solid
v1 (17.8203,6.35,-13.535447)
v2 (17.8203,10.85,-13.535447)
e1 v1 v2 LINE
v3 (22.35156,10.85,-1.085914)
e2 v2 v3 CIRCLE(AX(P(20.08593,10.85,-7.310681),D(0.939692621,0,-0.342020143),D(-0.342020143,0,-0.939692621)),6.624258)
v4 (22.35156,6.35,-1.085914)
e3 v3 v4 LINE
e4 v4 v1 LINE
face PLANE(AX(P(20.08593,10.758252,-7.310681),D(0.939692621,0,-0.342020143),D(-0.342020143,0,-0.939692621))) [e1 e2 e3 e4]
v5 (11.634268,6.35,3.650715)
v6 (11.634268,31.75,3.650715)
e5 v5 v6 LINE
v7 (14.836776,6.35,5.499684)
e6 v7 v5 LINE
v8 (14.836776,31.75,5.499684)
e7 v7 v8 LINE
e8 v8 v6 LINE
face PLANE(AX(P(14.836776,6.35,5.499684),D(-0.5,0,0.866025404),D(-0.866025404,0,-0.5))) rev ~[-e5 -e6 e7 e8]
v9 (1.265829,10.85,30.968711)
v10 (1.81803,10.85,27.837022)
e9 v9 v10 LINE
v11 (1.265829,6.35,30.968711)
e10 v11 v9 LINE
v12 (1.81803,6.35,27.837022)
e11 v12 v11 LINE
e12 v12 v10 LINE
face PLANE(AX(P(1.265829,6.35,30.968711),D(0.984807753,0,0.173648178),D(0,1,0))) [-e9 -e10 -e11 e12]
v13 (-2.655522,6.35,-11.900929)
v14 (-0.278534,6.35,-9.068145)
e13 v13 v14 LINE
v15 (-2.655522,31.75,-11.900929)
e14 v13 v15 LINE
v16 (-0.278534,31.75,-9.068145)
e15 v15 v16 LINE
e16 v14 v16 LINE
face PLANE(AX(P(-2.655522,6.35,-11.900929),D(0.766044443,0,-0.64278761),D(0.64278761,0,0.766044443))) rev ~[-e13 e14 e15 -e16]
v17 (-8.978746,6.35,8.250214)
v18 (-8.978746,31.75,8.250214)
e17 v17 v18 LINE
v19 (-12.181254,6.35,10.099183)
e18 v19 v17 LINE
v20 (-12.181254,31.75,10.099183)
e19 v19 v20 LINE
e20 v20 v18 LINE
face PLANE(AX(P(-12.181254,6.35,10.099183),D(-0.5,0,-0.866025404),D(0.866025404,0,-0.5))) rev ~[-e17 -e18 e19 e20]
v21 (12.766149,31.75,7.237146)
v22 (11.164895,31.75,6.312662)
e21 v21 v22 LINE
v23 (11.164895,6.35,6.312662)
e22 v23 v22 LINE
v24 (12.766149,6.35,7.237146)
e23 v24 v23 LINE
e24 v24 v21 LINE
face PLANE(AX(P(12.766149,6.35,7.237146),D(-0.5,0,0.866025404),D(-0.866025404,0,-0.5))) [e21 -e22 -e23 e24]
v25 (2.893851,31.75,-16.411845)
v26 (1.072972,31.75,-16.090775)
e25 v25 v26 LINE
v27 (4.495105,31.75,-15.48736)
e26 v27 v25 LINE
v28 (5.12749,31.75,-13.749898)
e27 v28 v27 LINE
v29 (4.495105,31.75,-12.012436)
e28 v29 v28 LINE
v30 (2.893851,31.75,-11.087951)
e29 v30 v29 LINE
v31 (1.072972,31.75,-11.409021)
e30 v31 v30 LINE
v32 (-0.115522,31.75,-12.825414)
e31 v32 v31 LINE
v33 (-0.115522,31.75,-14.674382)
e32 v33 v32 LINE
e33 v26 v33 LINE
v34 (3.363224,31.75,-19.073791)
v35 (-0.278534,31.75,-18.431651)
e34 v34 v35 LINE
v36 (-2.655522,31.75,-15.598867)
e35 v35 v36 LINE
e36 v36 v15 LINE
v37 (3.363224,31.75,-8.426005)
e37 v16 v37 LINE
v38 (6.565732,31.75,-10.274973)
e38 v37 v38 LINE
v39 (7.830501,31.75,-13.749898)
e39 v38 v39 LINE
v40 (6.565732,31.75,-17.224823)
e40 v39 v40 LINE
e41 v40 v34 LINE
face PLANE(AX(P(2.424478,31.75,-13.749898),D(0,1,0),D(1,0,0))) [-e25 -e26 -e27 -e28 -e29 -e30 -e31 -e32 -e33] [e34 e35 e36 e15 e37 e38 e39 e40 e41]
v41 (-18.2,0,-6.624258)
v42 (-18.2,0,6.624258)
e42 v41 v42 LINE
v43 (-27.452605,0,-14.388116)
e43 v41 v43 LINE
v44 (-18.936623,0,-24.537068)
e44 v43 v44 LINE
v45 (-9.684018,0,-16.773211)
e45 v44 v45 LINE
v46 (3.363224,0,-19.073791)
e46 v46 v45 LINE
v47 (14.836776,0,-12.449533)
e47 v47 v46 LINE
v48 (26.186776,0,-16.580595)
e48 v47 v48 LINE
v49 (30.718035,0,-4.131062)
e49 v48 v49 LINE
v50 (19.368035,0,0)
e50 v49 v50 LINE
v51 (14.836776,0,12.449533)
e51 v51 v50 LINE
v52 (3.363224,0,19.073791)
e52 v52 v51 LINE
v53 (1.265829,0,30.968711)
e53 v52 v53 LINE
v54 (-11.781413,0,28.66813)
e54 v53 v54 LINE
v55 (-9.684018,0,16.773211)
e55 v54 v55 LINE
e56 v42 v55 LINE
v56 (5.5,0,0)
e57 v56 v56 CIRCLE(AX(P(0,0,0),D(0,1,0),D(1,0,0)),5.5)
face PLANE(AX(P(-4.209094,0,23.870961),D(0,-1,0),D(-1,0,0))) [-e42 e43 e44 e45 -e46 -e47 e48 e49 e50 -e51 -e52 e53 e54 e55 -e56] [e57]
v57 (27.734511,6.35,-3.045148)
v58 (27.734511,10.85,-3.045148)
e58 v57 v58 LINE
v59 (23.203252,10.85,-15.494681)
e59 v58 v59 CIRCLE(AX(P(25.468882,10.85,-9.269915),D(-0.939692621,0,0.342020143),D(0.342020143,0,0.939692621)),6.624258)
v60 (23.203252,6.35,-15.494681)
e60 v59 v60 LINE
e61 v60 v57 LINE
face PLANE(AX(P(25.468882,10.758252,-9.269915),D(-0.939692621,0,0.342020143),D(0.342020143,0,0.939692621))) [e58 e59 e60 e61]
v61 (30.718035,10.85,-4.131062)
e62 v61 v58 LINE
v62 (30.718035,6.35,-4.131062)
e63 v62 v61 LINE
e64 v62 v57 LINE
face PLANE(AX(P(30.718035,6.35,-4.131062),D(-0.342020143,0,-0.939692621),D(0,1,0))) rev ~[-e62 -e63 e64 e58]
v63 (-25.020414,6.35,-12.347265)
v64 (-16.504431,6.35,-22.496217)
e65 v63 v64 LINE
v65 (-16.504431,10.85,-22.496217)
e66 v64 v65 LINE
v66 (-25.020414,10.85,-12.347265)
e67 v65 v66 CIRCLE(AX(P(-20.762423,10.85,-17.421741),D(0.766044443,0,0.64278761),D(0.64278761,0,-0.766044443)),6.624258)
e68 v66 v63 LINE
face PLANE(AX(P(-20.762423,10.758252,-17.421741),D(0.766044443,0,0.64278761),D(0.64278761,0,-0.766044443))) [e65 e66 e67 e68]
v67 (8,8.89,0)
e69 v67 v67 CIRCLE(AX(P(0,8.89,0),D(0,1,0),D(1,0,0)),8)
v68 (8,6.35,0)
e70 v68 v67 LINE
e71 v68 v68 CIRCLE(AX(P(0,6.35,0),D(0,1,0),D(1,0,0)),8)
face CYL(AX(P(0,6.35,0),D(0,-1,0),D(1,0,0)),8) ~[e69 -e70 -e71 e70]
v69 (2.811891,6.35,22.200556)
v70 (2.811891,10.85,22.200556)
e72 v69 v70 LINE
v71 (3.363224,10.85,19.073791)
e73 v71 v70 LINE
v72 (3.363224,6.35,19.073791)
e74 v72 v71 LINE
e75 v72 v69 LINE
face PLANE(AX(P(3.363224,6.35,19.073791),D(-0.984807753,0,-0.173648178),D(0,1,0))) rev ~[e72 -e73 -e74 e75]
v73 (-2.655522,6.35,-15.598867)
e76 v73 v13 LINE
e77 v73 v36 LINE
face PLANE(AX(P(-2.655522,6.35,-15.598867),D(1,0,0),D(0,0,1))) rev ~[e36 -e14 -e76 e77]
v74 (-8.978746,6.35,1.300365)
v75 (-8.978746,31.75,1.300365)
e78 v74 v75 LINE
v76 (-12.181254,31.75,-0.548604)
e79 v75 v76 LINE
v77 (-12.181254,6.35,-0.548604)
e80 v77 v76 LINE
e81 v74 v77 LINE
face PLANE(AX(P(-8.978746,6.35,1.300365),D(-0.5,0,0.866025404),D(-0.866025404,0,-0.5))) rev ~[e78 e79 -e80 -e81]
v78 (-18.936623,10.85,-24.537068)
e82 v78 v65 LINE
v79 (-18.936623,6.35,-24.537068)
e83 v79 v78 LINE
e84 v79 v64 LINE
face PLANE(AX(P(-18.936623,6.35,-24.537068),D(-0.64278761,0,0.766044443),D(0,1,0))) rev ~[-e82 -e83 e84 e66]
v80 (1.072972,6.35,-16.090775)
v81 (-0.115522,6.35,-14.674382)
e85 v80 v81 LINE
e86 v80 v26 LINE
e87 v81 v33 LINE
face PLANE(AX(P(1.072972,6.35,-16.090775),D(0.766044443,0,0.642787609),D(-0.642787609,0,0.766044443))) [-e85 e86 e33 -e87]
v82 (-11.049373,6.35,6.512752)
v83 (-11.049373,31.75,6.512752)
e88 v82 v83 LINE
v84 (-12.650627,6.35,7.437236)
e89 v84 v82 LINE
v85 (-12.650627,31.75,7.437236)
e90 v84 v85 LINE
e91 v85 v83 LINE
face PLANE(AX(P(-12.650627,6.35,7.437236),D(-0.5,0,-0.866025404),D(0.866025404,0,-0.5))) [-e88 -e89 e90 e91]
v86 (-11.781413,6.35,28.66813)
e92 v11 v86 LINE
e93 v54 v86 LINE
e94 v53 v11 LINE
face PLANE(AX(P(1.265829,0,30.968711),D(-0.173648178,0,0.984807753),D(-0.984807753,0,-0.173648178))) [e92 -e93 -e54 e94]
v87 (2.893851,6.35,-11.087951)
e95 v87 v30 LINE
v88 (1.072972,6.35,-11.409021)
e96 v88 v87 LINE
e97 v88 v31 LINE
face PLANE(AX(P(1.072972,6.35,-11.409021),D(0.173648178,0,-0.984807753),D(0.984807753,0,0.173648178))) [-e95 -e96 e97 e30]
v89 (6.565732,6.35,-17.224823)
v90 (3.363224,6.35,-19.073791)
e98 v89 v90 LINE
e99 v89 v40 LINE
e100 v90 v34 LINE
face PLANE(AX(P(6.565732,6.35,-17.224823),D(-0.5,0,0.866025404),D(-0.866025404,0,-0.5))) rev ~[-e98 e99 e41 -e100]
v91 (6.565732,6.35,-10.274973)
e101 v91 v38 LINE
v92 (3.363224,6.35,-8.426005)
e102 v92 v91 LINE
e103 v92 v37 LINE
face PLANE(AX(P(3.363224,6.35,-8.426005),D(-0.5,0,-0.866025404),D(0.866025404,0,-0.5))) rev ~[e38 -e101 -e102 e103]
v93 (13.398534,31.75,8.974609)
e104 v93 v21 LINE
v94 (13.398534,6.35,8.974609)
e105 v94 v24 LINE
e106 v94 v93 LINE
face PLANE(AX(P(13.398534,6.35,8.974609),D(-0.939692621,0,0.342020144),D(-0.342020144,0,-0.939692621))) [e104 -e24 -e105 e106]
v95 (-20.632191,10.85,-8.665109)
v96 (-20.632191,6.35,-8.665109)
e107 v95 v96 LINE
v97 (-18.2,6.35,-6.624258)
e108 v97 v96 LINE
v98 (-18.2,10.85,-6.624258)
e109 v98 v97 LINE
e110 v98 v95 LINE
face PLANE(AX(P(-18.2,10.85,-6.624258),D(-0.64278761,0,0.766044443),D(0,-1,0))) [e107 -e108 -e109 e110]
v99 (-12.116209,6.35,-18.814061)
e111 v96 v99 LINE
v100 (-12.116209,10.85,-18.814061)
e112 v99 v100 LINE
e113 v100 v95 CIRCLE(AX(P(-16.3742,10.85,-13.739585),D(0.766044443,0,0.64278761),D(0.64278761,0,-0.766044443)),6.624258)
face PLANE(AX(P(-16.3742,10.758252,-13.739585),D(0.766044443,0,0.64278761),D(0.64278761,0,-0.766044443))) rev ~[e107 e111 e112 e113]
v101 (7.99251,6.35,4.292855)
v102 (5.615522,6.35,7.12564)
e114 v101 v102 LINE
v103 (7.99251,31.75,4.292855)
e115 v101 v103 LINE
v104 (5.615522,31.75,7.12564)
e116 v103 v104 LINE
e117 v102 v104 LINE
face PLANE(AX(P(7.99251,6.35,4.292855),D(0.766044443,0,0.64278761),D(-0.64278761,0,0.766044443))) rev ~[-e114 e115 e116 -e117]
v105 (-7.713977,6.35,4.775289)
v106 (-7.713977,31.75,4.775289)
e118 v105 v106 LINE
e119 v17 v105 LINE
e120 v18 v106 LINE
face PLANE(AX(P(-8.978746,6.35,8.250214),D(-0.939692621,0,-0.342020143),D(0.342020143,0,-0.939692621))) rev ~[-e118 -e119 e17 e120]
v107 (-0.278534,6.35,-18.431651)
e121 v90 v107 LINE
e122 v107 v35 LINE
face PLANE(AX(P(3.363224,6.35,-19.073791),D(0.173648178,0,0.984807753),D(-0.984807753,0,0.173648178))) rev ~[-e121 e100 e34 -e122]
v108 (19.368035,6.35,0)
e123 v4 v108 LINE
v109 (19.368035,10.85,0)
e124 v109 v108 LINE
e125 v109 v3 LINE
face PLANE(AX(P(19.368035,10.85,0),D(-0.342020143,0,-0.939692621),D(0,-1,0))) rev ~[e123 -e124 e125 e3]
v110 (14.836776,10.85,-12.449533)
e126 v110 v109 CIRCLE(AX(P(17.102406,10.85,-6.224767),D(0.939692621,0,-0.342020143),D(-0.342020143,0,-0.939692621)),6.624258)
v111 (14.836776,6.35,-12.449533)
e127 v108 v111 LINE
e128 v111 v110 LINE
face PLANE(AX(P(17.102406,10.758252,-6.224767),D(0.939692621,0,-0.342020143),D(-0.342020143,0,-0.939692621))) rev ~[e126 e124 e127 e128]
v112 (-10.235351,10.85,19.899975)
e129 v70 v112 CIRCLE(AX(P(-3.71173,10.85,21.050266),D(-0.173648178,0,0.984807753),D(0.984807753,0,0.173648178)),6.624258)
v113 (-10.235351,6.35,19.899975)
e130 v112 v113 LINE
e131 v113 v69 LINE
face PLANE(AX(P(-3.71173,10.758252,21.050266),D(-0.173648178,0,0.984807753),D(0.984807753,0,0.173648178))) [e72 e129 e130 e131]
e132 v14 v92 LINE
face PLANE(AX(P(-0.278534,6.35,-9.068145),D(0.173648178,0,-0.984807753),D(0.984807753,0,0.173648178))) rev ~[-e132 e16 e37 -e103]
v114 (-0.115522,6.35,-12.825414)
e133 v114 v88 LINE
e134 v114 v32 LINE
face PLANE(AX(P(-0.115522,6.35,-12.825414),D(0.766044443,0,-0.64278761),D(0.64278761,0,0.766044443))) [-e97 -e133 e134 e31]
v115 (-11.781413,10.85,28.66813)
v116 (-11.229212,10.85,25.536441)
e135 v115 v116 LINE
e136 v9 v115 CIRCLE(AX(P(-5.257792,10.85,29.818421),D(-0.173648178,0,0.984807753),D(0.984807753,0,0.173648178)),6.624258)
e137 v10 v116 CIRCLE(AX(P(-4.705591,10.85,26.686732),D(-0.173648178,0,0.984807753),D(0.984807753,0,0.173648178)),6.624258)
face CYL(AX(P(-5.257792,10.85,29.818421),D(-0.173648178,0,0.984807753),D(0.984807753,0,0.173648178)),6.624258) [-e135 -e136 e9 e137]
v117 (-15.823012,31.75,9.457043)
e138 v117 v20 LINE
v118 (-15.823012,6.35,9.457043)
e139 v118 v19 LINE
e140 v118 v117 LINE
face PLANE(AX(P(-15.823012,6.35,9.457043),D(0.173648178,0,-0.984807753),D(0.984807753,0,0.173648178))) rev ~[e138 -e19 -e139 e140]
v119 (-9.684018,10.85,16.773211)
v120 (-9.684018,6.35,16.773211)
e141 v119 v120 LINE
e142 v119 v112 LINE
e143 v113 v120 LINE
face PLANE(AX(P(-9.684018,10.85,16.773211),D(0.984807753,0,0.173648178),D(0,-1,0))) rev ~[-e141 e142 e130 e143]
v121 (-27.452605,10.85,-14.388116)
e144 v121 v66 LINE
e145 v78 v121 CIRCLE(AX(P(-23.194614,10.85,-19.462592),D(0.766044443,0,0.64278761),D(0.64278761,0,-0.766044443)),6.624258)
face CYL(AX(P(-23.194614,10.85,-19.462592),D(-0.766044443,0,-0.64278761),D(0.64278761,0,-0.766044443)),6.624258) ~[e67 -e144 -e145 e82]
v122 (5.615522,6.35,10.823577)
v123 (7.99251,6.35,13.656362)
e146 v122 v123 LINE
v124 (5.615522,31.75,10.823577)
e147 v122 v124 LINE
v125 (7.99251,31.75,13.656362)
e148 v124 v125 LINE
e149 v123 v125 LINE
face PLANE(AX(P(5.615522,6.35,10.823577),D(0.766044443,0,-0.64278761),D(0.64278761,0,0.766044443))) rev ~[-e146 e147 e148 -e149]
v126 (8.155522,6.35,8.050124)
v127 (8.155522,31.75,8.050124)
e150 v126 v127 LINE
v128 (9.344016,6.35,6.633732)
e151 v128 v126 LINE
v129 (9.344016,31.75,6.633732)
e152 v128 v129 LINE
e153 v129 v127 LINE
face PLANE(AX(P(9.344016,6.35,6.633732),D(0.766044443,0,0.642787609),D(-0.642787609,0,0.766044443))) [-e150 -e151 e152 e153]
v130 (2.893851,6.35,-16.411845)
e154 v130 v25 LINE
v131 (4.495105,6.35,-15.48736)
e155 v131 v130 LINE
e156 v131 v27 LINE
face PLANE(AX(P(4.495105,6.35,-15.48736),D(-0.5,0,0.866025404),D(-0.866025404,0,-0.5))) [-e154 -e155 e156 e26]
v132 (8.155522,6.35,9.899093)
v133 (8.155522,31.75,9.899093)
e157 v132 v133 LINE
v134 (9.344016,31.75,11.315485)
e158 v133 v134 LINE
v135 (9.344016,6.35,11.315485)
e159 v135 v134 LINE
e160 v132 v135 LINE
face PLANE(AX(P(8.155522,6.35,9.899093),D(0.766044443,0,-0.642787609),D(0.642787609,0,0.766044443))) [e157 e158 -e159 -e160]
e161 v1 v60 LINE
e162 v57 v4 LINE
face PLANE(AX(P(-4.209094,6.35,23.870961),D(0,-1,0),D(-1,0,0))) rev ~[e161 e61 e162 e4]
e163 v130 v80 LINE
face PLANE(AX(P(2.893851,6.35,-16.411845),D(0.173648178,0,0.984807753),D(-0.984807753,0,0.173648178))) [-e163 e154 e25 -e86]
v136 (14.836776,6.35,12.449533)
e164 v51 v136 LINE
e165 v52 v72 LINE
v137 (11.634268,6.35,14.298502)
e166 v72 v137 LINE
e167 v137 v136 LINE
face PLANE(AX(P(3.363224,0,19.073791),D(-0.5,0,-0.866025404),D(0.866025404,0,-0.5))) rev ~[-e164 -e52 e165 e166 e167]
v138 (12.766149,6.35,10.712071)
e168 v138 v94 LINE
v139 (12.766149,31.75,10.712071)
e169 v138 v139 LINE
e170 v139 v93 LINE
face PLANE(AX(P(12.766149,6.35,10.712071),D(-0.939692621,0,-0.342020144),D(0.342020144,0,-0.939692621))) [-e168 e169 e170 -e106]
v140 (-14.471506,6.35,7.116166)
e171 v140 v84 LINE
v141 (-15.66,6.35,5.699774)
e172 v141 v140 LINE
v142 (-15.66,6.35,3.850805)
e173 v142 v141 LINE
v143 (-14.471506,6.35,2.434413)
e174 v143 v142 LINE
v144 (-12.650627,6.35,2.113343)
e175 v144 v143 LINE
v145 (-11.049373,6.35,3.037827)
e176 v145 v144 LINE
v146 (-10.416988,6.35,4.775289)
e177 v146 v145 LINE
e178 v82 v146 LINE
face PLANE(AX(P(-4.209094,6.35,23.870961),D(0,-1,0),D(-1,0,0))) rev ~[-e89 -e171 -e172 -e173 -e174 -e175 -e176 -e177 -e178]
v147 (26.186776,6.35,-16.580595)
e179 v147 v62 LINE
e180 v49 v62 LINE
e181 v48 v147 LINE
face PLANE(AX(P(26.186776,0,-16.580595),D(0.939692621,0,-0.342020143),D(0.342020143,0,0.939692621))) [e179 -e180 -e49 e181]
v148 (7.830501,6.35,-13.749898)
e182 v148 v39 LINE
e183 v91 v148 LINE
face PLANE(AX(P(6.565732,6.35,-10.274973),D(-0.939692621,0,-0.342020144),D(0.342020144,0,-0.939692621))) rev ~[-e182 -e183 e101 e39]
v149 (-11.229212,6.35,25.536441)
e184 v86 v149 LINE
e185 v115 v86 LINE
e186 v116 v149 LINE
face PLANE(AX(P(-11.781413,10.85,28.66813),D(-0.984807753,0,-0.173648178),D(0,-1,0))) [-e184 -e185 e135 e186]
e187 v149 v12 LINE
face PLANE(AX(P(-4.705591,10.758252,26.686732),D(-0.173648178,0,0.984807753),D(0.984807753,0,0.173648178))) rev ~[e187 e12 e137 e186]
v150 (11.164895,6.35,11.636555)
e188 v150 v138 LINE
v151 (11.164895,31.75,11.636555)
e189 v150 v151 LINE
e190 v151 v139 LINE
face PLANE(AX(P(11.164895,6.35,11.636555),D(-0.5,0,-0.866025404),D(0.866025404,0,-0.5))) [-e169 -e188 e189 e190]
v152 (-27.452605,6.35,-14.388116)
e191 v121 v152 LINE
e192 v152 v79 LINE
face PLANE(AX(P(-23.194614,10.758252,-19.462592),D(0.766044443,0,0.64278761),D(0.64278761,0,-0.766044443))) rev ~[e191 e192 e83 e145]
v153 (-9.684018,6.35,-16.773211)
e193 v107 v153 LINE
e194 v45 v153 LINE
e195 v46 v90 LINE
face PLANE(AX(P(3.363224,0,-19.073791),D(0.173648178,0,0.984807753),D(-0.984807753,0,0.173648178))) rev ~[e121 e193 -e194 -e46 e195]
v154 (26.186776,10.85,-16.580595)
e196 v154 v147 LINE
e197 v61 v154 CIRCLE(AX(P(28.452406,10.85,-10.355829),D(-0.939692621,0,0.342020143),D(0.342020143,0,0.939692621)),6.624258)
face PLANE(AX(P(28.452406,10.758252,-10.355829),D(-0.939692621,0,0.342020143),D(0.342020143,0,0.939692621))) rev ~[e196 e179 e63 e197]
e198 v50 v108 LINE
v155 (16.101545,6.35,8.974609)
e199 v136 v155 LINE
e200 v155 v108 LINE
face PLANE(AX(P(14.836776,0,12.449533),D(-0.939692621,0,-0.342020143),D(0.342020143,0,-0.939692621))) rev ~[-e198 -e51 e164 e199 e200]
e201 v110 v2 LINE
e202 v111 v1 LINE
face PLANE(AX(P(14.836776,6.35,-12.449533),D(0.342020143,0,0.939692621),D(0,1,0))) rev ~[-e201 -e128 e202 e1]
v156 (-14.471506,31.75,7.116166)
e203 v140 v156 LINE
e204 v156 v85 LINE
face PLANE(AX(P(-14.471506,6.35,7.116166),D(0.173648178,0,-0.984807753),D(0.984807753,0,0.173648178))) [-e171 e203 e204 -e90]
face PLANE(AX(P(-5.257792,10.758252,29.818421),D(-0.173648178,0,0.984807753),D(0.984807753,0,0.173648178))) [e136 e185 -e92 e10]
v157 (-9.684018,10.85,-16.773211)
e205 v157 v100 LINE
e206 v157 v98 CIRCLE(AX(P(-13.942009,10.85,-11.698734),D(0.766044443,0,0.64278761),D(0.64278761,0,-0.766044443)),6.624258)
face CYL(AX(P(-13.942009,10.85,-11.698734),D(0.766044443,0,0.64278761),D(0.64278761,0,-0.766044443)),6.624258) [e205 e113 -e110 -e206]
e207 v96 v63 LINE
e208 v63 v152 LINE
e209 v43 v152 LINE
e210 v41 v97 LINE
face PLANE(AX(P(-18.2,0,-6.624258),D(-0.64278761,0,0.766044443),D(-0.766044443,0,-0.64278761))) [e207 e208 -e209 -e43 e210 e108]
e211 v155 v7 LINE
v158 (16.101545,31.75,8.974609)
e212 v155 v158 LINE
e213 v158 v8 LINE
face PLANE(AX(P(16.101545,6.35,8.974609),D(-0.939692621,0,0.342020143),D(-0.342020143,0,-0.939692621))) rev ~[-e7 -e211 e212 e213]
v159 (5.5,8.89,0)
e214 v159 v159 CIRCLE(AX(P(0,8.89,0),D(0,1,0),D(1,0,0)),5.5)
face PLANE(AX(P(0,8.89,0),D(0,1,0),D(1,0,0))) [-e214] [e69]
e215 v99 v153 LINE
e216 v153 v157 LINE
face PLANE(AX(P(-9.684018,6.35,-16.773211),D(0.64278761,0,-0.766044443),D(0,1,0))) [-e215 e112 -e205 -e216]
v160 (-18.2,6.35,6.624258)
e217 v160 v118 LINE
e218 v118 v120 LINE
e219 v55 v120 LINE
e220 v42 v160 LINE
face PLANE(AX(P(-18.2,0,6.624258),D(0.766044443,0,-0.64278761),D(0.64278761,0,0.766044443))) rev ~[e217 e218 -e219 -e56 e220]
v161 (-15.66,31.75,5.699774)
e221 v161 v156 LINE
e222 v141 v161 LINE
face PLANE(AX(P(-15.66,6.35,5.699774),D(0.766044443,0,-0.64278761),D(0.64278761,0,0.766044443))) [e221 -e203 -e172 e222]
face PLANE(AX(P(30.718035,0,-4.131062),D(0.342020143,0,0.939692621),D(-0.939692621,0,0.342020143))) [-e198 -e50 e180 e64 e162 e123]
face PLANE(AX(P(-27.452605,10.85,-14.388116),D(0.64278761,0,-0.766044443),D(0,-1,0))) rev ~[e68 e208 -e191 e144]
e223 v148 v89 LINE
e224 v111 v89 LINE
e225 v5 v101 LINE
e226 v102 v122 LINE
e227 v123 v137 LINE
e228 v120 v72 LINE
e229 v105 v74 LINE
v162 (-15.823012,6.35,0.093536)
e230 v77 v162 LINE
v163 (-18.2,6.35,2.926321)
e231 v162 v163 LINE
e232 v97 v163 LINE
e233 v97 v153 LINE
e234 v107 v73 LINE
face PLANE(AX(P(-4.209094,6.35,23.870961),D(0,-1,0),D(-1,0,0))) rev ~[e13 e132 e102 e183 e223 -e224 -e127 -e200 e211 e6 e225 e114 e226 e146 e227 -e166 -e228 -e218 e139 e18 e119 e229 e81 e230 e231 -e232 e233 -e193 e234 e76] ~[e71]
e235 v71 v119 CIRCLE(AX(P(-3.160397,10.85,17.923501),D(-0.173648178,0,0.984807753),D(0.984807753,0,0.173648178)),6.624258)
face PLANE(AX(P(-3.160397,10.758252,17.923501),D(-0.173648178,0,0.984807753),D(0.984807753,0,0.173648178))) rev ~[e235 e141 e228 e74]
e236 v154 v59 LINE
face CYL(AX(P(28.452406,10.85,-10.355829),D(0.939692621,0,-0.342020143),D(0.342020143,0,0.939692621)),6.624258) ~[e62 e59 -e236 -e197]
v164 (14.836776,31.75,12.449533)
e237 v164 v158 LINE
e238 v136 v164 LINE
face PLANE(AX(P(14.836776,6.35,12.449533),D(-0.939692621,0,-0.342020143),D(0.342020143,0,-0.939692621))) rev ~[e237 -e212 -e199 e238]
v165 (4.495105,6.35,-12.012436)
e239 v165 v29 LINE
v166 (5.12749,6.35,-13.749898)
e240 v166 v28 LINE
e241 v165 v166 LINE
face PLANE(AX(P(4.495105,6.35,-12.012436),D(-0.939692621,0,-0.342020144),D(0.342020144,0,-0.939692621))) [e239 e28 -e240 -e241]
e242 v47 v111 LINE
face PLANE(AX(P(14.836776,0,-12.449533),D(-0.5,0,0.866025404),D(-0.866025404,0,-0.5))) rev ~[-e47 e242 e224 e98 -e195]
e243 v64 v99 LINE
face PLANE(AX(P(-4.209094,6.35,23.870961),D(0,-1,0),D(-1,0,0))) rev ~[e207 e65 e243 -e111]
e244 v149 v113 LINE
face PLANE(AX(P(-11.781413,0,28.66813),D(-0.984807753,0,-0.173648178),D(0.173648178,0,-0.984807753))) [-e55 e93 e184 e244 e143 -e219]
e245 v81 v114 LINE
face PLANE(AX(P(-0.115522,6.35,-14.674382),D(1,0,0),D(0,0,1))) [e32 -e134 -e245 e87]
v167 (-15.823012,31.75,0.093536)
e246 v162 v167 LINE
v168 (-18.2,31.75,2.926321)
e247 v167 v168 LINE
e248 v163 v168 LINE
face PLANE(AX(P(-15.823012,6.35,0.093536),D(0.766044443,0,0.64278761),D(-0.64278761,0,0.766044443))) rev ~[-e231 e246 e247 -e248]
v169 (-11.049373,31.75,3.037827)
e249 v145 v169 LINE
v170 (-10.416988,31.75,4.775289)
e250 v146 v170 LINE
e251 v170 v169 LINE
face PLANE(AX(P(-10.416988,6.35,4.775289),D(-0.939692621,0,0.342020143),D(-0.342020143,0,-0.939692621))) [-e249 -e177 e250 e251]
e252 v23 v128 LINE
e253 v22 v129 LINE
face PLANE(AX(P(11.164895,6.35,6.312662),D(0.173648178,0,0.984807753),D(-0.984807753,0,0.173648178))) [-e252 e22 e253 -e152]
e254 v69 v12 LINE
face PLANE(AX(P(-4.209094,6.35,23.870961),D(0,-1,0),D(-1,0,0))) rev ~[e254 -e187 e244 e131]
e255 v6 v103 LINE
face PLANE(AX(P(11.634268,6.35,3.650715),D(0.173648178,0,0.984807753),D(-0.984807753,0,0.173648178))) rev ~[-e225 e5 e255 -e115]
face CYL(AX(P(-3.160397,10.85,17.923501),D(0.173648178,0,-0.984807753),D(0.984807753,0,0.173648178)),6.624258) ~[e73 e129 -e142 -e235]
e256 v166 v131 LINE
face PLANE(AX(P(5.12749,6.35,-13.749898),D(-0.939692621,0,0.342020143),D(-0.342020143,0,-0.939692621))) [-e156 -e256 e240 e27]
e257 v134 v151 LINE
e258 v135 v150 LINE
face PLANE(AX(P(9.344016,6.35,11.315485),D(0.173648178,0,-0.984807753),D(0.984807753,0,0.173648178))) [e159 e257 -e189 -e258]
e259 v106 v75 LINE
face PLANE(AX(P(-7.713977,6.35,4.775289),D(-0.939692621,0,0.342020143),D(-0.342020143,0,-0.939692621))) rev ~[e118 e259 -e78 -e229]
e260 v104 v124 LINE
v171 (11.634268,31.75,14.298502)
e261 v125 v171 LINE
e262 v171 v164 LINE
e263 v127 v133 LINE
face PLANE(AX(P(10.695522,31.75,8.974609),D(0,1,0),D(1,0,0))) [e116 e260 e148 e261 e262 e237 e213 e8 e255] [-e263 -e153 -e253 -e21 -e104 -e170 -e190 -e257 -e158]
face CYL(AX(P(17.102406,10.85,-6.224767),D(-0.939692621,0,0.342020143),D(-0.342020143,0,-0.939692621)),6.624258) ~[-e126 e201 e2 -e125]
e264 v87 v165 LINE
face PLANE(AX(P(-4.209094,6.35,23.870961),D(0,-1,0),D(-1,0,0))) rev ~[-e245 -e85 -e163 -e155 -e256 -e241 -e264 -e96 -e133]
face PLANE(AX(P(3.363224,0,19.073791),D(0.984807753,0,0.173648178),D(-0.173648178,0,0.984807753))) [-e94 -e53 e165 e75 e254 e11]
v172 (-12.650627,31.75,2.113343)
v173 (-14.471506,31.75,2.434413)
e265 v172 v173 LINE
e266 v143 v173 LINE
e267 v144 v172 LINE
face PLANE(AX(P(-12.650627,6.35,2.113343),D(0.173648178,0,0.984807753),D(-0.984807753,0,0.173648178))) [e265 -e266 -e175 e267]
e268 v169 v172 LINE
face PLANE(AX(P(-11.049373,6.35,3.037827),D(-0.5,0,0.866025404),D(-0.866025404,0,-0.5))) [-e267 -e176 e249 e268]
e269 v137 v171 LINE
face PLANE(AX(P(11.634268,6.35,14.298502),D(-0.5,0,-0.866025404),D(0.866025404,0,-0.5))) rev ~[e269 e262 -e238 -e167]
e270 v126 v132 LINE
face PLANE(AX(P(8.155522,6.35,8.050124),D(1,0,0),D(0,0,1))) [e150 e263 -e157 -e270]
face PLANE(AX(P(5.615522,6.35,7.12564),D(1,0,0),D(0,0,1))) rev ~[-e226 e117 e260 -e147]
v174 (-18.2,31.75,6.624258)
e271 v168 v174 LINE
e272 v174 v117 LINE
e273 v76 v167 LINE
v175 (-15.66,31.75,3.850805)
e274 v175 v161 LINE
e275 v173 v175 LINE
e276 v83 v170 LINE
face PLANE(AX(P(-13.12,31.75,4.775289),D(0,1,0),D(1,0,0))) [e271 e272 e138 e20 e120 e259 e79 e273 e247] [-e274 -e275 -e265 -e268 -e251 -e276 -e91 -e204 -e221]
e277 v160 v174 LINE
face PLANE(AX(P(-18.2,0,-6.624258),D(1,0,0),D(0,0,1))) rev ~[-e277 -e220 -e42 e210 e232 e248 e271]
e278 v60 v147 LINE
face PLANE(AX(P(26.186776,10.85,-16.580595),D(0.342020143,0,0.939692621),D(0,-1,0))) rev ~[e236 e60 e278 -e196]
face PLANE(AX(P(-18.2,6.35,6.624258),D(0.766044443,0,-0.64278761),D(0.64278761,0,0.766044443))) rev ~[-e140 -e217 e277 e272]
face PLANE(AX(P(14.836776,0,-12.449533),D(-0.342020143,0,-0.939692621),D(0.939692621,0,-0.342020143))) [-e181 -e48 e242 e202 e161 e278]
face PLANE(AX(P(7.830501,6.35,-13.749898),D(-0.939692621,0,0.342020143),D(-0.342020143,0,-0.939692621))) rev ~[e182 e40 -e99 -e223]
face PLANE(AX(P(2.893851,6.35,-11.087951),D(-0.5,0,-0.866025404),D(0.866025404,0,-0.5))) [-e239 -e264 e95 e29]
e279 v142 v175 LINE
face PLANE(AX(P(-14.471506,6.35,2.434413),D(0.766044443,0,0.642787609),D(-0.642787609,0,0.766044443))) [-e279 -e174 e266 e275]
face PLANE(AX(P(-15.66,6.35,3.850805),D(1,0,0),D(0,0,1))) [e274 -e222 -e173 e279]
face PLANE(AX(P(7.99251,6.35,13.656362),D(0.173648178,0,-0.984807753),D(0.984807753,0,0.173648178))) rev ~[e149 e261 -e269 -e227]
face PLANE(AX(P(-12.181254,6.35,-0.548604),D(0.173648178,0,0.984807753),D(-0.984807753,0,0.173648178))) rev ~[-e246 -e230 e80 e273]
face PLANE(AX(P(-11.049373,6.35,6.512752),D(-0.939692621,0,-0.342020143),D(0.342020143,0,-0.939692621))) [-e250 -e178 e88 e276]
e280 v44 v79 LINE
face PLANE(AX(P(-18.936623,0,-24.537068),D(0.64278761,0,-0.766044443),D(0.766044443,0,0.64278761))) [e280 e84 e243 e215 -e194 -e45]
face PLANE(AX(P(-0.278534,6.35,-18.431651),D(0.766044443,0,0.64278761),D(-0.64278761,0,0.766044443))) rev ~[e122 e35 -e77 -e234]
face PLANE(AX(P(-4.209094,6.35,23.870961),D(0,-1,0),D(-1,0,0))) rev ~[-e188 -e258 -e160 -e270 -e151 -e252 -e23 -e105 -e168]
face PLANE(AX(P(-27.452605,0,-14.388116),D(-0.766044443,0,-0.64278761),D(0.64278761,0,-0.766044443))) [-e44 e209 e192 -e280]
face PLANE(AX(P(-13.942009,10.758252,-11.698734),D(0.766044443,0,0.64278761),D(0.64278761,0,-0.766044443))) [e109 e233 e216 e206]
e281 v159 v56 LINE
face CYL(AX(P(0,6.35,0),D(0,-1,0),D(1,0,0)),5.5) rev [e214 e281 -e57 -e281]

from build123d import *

# Parameters (mm, degrees)
SKETCH1_R            = 5.5
BOSS_EXTRUDE1_DEPTH  = 6.35
BOSS_EXTRUDE2_DEPTH  = 3.18
BOSS_EXTRUDE4_DEPTH  = 3.175
BOSS_EXTRUDE5_DEPTH  = 3.175
BOSS_EXTRUDE6_DEPTH  = 3.175
BOSS_EXTRUDE7_DEPTH  = 3.175
BOSS_EXTRUDE8_DEPTH  = 3.175
BOSS_EXTRUDE9_DEPTH  = 25.4
SKETCH15_R           = 8
SKETCH15_R_2         = 5.5
BOSS_EXTRUDE10_DEPTH = 2.54


with BuildPart() as part:
    # Sketch1 → Boss-Extrude1 (new body)
    with BuildSketch(Plane(origin=(0, 0, 0), x_dir=(1, 0, 0), z_dir=(0, 1, 0))):
        Polygon((1.265828837, -30.968710893), (-11.781412955, -28.668130141), (-9.68401773, -16.773210729), (3.363224062, -19.073791481), align=None)
        Polygon((-9.68401773, -16.773210729), (3.363224062, -19.073791481), (14.836775938, -12.449533217), (19.368035459, 0), (14.836775938, 12.449533217), (3.363224062, 19.073791481), (-9.68401773, 16.773210729), (-18.2, 6.624258264), (-18.2, -6.624258264), align=None)
        Circle(SKETCH1_R, mode=Mode.SUBTRACT)
        Polygon((26.186775938, 16.580595376), (30.718035459, 4.131062159), (19.368035459, 0), (14.836775938, 12.449533217), align=None)
        Polygon((-27.452604774, 14.388115517), (-18.936622504, 24.537067982), (-9.68401773, 16.773210729), (-18.2, 6.624258264), align=None)
    extrude(amount=BOSS_EXTRUDE1_DEPTH)

    # Sketch4 → Boss-Extrude2 (add)
    with BuildSketch(Plane(origin=(-5.257792059, 0, 29.818420517), x_dir=(-0.984807753, 0, -0.173648178), z_dir=(0.173648178, 0, -0.984807753))):
        with BuildLine():
            Line((-6.624258264, 6.35), (-6.624258264, 10.84999989))
            ThreePointArc((-6.624258264, 10.84999989), (0, 17.474258154), (6.624258264, 10.84999989))
            Line((6.624258264, 10.84999989), (6.624258264, 6.35))
            Line((6.624258264, 6.35), (-6.624258264, 6.35))
        make_face()
    extrude(amount=BOSS_EXTRUDE2_DEPTH)

    # Sketch6 → Boss-Extrude4 (add)
    with BuildSketch(Plane(origin=(-3.160396834, 0, 17.923501105), x_dir=(-0.984807753, 0, -0.173648178), z_dir=(0.173648178, 0, -0.984807753))):
        with BuildLine():
            Line((-6.624258264, 6.35), (-6.624258264, 10.85))
            ThreePointArc((-6.624258264, 10.85), (0, 17.474258264), (6.624258264, 10.85))
            Line((6.624258264, 10.85), (6.624258264, 6.35))
            Line((6.624258264, 6.35), (-6.624258264, 6.35))
        make_face()
    extrude(amount=-BOSS_EXTRUDE4_DEPTH)

    # Sketch8 → Boss-Extrude5 (add)
    with BuildSketch(Plane(origin=(28.452405698, 0, -10.355828767), x_dir=(0.342020143, 0, 0.939692621), z_dir=(-0.939692621, 0, 0.342020143))):
        with BuildLine():
            Line((-6.624258264, 10.85), (-6.624258264, 6.35))
            Line((-6.624258264, 6.35), (6.624258264, 6.35))
            Line((6.624258264, 6.35), (6.624258264, 10.85))
            ThreePointArc((6.624258264, 10.85), (0, 17.474258264), (-6.624258264, 10.85))
        make_face()
    extrude(amount=BOSS_EXTRUDE5_DEPTH)

    # Sketch9 → Boss-Extrude6 (add)
    with BuildSketch(Plane(origin=(17.102405698, 0, -6.224766609), x_dir=(0.342020143, 0, 0.939692621), z_dir=(-0.939692621, 0, 0.342020143))):
        with BuildLine():
            Line((-6.624258264, 6.35), (-6.624258264, 10.85))
            ThreePointArc((-6.624258264, 10.85), (0, 17.474258264), (6.624258264, 10.85))
            Line((6.624258264, 10.85), (6.624258264, 6.35))
            Line((6.624258264, 6.35), (-6.624258264, 6.35))
        make_face()
    extrude(amount=-BOSS_EXTRUDE6_DEPTH)

    # Sketch10 → Boss-Extrude7 (add)
    with BuildSketch(Plane(origin=(-23.194613639, 0, -19.46259175), x_dir=(0.64278761, 0, -0.766044443), z_dir=(0.766044443, 0, 0.64278761))):
        with BuildLine():
            Line((-6.624258264, 10.85), (-6.624258264, 6.35))
            Line((-6.624258264, 6.35), (6.624258264, 6.35))
            Line((6.624258264, 6.35), (6.624258264, 10.85))
            ThreePointArc((6.624258264, 10.85), (0, 17.474258264), (-6.624258264, 10.85))
        make_face()
    extrude(amount=BOSS_EXTRUDE7_DEPTH)

    # Sketch11 → Boss-Extrude8 (add)
    with BuildSketch(Plane(origin=(-13.942008865, 0, -11.698734496), x_dir=(0.64278761, 0, -0.766044443), z_dir=(0.766044443, 0, 0.64278761))):
        with BuildLine():
            Line((-6.624258264, 10.85), (-6.624258264, 6.35))
            Line((-6.624258264, 6.35), (6.624258264, 6.35))
            Line((6.624258264, 6.35), (6.624258264, 10.85))
            ThreePointArc((6.624258264, 10.85), (0, 17.474258264), (-6.624258264, 10.85))
        make_face()
    extrude(amount=-BOSS_EXTRUDE8_DEPTH)

    # Sketch12 → Boss-Extrude9 (add)
    with BuildSketch(Plane(origin=(0, 6.35, 0), x_dir=(1, 0, 0), z_dir=(0, 1, 0))):
        Polygon((14.836775938, -12.449533217), (16.101545079, -8.974608561), (14.836775938, -5.499683905), (11.634268052, -3.650715115), (7.992510452, -4.292855237), (5.615521995, -7.125639771), (5.615521995, -10.823577351), (7.992510452, -13.656361885), (11.634268052, -14.298502007), align=None)
        Polygon((12.766148966, -10.712070889), (13.398533537, -8.974608561), (12.766148966, -7.237146233), (11.164895023, -6.312661838), (9.344016223, -6.633731899), (8.155521995, -8.050124166), (8.155521995, -9.899092956), (9.344016223, -11.315485223), (11.164895023, -11.636555284), align=None, mode=Mode.SUBTRACT)
        Polygon((6.565731948, 10.274973378), (7.83050109, 13.749898034), (6.565731948, 17.224822691), (3.363224062, 19.073791481), (-0.278533537, 18.431651359), (-2.655521995, 15.598866825), (-2.655521995, 11.900929244), (-0.278533537, 9.06814471), (3.363224062, 8.426004588), align=None)
        Polygon((-0.115521995, 12.825413639), (1.072972234, 11.409021372), (2.893851034, 11.087951311), (4.495104977, 12.012435706), (5.127489548, 13.749898034), (4.495104977, 15.487360363), (2.893851034, 16.411844758), (1.072972234, 16.090774697), (-0.115521995, 14.674382429), align=None, mode=Mode.SUBTRACT)
        Polygon((-18.2, -6.624258264), (-15.823011542, -9.457042798), (-12.181253943, -10.09918292), (-8.978746057, -8.25021413), (-7.713976916, -4.775289474), (-8.978746057, -1.300364817), (-12.181253943, 0.548603973), (-15.823011542, -0.093536149), (-18.2, -2.926320684), align=None)
        Polygon((-11.049373028, -6.512751802), (-10.416988458, -4.775289474), (-11.049373028, -3.037827145), (-12.650626972, -2.11334275), (-14.471505771, -2.434412811), (-15.66, -3.850805079), (-15.66, -5.699773869), (-14.471505771, -7.116166136), (-12.650626972, -7.437236197), align=None, mode=Mode.SUBTRACT)
    extrude(amount=BOSS_EXTRUDE9_DEPTH)

    # Sketch15 → Boss-Extrude10 (add)
    with BuildSketch(Plane(origin=(0, 6.35, 0), x_dir=(1, 0, 0), z_dir=(0, 1, 0))):
        Circle(SKETCH15_R)
        Circle(SKETCH15_R_2, mode=Mode.SUBTRACT)
    extrude(amount=BOSS_EXTRUDE10_DEPTH)


solid = part.part
